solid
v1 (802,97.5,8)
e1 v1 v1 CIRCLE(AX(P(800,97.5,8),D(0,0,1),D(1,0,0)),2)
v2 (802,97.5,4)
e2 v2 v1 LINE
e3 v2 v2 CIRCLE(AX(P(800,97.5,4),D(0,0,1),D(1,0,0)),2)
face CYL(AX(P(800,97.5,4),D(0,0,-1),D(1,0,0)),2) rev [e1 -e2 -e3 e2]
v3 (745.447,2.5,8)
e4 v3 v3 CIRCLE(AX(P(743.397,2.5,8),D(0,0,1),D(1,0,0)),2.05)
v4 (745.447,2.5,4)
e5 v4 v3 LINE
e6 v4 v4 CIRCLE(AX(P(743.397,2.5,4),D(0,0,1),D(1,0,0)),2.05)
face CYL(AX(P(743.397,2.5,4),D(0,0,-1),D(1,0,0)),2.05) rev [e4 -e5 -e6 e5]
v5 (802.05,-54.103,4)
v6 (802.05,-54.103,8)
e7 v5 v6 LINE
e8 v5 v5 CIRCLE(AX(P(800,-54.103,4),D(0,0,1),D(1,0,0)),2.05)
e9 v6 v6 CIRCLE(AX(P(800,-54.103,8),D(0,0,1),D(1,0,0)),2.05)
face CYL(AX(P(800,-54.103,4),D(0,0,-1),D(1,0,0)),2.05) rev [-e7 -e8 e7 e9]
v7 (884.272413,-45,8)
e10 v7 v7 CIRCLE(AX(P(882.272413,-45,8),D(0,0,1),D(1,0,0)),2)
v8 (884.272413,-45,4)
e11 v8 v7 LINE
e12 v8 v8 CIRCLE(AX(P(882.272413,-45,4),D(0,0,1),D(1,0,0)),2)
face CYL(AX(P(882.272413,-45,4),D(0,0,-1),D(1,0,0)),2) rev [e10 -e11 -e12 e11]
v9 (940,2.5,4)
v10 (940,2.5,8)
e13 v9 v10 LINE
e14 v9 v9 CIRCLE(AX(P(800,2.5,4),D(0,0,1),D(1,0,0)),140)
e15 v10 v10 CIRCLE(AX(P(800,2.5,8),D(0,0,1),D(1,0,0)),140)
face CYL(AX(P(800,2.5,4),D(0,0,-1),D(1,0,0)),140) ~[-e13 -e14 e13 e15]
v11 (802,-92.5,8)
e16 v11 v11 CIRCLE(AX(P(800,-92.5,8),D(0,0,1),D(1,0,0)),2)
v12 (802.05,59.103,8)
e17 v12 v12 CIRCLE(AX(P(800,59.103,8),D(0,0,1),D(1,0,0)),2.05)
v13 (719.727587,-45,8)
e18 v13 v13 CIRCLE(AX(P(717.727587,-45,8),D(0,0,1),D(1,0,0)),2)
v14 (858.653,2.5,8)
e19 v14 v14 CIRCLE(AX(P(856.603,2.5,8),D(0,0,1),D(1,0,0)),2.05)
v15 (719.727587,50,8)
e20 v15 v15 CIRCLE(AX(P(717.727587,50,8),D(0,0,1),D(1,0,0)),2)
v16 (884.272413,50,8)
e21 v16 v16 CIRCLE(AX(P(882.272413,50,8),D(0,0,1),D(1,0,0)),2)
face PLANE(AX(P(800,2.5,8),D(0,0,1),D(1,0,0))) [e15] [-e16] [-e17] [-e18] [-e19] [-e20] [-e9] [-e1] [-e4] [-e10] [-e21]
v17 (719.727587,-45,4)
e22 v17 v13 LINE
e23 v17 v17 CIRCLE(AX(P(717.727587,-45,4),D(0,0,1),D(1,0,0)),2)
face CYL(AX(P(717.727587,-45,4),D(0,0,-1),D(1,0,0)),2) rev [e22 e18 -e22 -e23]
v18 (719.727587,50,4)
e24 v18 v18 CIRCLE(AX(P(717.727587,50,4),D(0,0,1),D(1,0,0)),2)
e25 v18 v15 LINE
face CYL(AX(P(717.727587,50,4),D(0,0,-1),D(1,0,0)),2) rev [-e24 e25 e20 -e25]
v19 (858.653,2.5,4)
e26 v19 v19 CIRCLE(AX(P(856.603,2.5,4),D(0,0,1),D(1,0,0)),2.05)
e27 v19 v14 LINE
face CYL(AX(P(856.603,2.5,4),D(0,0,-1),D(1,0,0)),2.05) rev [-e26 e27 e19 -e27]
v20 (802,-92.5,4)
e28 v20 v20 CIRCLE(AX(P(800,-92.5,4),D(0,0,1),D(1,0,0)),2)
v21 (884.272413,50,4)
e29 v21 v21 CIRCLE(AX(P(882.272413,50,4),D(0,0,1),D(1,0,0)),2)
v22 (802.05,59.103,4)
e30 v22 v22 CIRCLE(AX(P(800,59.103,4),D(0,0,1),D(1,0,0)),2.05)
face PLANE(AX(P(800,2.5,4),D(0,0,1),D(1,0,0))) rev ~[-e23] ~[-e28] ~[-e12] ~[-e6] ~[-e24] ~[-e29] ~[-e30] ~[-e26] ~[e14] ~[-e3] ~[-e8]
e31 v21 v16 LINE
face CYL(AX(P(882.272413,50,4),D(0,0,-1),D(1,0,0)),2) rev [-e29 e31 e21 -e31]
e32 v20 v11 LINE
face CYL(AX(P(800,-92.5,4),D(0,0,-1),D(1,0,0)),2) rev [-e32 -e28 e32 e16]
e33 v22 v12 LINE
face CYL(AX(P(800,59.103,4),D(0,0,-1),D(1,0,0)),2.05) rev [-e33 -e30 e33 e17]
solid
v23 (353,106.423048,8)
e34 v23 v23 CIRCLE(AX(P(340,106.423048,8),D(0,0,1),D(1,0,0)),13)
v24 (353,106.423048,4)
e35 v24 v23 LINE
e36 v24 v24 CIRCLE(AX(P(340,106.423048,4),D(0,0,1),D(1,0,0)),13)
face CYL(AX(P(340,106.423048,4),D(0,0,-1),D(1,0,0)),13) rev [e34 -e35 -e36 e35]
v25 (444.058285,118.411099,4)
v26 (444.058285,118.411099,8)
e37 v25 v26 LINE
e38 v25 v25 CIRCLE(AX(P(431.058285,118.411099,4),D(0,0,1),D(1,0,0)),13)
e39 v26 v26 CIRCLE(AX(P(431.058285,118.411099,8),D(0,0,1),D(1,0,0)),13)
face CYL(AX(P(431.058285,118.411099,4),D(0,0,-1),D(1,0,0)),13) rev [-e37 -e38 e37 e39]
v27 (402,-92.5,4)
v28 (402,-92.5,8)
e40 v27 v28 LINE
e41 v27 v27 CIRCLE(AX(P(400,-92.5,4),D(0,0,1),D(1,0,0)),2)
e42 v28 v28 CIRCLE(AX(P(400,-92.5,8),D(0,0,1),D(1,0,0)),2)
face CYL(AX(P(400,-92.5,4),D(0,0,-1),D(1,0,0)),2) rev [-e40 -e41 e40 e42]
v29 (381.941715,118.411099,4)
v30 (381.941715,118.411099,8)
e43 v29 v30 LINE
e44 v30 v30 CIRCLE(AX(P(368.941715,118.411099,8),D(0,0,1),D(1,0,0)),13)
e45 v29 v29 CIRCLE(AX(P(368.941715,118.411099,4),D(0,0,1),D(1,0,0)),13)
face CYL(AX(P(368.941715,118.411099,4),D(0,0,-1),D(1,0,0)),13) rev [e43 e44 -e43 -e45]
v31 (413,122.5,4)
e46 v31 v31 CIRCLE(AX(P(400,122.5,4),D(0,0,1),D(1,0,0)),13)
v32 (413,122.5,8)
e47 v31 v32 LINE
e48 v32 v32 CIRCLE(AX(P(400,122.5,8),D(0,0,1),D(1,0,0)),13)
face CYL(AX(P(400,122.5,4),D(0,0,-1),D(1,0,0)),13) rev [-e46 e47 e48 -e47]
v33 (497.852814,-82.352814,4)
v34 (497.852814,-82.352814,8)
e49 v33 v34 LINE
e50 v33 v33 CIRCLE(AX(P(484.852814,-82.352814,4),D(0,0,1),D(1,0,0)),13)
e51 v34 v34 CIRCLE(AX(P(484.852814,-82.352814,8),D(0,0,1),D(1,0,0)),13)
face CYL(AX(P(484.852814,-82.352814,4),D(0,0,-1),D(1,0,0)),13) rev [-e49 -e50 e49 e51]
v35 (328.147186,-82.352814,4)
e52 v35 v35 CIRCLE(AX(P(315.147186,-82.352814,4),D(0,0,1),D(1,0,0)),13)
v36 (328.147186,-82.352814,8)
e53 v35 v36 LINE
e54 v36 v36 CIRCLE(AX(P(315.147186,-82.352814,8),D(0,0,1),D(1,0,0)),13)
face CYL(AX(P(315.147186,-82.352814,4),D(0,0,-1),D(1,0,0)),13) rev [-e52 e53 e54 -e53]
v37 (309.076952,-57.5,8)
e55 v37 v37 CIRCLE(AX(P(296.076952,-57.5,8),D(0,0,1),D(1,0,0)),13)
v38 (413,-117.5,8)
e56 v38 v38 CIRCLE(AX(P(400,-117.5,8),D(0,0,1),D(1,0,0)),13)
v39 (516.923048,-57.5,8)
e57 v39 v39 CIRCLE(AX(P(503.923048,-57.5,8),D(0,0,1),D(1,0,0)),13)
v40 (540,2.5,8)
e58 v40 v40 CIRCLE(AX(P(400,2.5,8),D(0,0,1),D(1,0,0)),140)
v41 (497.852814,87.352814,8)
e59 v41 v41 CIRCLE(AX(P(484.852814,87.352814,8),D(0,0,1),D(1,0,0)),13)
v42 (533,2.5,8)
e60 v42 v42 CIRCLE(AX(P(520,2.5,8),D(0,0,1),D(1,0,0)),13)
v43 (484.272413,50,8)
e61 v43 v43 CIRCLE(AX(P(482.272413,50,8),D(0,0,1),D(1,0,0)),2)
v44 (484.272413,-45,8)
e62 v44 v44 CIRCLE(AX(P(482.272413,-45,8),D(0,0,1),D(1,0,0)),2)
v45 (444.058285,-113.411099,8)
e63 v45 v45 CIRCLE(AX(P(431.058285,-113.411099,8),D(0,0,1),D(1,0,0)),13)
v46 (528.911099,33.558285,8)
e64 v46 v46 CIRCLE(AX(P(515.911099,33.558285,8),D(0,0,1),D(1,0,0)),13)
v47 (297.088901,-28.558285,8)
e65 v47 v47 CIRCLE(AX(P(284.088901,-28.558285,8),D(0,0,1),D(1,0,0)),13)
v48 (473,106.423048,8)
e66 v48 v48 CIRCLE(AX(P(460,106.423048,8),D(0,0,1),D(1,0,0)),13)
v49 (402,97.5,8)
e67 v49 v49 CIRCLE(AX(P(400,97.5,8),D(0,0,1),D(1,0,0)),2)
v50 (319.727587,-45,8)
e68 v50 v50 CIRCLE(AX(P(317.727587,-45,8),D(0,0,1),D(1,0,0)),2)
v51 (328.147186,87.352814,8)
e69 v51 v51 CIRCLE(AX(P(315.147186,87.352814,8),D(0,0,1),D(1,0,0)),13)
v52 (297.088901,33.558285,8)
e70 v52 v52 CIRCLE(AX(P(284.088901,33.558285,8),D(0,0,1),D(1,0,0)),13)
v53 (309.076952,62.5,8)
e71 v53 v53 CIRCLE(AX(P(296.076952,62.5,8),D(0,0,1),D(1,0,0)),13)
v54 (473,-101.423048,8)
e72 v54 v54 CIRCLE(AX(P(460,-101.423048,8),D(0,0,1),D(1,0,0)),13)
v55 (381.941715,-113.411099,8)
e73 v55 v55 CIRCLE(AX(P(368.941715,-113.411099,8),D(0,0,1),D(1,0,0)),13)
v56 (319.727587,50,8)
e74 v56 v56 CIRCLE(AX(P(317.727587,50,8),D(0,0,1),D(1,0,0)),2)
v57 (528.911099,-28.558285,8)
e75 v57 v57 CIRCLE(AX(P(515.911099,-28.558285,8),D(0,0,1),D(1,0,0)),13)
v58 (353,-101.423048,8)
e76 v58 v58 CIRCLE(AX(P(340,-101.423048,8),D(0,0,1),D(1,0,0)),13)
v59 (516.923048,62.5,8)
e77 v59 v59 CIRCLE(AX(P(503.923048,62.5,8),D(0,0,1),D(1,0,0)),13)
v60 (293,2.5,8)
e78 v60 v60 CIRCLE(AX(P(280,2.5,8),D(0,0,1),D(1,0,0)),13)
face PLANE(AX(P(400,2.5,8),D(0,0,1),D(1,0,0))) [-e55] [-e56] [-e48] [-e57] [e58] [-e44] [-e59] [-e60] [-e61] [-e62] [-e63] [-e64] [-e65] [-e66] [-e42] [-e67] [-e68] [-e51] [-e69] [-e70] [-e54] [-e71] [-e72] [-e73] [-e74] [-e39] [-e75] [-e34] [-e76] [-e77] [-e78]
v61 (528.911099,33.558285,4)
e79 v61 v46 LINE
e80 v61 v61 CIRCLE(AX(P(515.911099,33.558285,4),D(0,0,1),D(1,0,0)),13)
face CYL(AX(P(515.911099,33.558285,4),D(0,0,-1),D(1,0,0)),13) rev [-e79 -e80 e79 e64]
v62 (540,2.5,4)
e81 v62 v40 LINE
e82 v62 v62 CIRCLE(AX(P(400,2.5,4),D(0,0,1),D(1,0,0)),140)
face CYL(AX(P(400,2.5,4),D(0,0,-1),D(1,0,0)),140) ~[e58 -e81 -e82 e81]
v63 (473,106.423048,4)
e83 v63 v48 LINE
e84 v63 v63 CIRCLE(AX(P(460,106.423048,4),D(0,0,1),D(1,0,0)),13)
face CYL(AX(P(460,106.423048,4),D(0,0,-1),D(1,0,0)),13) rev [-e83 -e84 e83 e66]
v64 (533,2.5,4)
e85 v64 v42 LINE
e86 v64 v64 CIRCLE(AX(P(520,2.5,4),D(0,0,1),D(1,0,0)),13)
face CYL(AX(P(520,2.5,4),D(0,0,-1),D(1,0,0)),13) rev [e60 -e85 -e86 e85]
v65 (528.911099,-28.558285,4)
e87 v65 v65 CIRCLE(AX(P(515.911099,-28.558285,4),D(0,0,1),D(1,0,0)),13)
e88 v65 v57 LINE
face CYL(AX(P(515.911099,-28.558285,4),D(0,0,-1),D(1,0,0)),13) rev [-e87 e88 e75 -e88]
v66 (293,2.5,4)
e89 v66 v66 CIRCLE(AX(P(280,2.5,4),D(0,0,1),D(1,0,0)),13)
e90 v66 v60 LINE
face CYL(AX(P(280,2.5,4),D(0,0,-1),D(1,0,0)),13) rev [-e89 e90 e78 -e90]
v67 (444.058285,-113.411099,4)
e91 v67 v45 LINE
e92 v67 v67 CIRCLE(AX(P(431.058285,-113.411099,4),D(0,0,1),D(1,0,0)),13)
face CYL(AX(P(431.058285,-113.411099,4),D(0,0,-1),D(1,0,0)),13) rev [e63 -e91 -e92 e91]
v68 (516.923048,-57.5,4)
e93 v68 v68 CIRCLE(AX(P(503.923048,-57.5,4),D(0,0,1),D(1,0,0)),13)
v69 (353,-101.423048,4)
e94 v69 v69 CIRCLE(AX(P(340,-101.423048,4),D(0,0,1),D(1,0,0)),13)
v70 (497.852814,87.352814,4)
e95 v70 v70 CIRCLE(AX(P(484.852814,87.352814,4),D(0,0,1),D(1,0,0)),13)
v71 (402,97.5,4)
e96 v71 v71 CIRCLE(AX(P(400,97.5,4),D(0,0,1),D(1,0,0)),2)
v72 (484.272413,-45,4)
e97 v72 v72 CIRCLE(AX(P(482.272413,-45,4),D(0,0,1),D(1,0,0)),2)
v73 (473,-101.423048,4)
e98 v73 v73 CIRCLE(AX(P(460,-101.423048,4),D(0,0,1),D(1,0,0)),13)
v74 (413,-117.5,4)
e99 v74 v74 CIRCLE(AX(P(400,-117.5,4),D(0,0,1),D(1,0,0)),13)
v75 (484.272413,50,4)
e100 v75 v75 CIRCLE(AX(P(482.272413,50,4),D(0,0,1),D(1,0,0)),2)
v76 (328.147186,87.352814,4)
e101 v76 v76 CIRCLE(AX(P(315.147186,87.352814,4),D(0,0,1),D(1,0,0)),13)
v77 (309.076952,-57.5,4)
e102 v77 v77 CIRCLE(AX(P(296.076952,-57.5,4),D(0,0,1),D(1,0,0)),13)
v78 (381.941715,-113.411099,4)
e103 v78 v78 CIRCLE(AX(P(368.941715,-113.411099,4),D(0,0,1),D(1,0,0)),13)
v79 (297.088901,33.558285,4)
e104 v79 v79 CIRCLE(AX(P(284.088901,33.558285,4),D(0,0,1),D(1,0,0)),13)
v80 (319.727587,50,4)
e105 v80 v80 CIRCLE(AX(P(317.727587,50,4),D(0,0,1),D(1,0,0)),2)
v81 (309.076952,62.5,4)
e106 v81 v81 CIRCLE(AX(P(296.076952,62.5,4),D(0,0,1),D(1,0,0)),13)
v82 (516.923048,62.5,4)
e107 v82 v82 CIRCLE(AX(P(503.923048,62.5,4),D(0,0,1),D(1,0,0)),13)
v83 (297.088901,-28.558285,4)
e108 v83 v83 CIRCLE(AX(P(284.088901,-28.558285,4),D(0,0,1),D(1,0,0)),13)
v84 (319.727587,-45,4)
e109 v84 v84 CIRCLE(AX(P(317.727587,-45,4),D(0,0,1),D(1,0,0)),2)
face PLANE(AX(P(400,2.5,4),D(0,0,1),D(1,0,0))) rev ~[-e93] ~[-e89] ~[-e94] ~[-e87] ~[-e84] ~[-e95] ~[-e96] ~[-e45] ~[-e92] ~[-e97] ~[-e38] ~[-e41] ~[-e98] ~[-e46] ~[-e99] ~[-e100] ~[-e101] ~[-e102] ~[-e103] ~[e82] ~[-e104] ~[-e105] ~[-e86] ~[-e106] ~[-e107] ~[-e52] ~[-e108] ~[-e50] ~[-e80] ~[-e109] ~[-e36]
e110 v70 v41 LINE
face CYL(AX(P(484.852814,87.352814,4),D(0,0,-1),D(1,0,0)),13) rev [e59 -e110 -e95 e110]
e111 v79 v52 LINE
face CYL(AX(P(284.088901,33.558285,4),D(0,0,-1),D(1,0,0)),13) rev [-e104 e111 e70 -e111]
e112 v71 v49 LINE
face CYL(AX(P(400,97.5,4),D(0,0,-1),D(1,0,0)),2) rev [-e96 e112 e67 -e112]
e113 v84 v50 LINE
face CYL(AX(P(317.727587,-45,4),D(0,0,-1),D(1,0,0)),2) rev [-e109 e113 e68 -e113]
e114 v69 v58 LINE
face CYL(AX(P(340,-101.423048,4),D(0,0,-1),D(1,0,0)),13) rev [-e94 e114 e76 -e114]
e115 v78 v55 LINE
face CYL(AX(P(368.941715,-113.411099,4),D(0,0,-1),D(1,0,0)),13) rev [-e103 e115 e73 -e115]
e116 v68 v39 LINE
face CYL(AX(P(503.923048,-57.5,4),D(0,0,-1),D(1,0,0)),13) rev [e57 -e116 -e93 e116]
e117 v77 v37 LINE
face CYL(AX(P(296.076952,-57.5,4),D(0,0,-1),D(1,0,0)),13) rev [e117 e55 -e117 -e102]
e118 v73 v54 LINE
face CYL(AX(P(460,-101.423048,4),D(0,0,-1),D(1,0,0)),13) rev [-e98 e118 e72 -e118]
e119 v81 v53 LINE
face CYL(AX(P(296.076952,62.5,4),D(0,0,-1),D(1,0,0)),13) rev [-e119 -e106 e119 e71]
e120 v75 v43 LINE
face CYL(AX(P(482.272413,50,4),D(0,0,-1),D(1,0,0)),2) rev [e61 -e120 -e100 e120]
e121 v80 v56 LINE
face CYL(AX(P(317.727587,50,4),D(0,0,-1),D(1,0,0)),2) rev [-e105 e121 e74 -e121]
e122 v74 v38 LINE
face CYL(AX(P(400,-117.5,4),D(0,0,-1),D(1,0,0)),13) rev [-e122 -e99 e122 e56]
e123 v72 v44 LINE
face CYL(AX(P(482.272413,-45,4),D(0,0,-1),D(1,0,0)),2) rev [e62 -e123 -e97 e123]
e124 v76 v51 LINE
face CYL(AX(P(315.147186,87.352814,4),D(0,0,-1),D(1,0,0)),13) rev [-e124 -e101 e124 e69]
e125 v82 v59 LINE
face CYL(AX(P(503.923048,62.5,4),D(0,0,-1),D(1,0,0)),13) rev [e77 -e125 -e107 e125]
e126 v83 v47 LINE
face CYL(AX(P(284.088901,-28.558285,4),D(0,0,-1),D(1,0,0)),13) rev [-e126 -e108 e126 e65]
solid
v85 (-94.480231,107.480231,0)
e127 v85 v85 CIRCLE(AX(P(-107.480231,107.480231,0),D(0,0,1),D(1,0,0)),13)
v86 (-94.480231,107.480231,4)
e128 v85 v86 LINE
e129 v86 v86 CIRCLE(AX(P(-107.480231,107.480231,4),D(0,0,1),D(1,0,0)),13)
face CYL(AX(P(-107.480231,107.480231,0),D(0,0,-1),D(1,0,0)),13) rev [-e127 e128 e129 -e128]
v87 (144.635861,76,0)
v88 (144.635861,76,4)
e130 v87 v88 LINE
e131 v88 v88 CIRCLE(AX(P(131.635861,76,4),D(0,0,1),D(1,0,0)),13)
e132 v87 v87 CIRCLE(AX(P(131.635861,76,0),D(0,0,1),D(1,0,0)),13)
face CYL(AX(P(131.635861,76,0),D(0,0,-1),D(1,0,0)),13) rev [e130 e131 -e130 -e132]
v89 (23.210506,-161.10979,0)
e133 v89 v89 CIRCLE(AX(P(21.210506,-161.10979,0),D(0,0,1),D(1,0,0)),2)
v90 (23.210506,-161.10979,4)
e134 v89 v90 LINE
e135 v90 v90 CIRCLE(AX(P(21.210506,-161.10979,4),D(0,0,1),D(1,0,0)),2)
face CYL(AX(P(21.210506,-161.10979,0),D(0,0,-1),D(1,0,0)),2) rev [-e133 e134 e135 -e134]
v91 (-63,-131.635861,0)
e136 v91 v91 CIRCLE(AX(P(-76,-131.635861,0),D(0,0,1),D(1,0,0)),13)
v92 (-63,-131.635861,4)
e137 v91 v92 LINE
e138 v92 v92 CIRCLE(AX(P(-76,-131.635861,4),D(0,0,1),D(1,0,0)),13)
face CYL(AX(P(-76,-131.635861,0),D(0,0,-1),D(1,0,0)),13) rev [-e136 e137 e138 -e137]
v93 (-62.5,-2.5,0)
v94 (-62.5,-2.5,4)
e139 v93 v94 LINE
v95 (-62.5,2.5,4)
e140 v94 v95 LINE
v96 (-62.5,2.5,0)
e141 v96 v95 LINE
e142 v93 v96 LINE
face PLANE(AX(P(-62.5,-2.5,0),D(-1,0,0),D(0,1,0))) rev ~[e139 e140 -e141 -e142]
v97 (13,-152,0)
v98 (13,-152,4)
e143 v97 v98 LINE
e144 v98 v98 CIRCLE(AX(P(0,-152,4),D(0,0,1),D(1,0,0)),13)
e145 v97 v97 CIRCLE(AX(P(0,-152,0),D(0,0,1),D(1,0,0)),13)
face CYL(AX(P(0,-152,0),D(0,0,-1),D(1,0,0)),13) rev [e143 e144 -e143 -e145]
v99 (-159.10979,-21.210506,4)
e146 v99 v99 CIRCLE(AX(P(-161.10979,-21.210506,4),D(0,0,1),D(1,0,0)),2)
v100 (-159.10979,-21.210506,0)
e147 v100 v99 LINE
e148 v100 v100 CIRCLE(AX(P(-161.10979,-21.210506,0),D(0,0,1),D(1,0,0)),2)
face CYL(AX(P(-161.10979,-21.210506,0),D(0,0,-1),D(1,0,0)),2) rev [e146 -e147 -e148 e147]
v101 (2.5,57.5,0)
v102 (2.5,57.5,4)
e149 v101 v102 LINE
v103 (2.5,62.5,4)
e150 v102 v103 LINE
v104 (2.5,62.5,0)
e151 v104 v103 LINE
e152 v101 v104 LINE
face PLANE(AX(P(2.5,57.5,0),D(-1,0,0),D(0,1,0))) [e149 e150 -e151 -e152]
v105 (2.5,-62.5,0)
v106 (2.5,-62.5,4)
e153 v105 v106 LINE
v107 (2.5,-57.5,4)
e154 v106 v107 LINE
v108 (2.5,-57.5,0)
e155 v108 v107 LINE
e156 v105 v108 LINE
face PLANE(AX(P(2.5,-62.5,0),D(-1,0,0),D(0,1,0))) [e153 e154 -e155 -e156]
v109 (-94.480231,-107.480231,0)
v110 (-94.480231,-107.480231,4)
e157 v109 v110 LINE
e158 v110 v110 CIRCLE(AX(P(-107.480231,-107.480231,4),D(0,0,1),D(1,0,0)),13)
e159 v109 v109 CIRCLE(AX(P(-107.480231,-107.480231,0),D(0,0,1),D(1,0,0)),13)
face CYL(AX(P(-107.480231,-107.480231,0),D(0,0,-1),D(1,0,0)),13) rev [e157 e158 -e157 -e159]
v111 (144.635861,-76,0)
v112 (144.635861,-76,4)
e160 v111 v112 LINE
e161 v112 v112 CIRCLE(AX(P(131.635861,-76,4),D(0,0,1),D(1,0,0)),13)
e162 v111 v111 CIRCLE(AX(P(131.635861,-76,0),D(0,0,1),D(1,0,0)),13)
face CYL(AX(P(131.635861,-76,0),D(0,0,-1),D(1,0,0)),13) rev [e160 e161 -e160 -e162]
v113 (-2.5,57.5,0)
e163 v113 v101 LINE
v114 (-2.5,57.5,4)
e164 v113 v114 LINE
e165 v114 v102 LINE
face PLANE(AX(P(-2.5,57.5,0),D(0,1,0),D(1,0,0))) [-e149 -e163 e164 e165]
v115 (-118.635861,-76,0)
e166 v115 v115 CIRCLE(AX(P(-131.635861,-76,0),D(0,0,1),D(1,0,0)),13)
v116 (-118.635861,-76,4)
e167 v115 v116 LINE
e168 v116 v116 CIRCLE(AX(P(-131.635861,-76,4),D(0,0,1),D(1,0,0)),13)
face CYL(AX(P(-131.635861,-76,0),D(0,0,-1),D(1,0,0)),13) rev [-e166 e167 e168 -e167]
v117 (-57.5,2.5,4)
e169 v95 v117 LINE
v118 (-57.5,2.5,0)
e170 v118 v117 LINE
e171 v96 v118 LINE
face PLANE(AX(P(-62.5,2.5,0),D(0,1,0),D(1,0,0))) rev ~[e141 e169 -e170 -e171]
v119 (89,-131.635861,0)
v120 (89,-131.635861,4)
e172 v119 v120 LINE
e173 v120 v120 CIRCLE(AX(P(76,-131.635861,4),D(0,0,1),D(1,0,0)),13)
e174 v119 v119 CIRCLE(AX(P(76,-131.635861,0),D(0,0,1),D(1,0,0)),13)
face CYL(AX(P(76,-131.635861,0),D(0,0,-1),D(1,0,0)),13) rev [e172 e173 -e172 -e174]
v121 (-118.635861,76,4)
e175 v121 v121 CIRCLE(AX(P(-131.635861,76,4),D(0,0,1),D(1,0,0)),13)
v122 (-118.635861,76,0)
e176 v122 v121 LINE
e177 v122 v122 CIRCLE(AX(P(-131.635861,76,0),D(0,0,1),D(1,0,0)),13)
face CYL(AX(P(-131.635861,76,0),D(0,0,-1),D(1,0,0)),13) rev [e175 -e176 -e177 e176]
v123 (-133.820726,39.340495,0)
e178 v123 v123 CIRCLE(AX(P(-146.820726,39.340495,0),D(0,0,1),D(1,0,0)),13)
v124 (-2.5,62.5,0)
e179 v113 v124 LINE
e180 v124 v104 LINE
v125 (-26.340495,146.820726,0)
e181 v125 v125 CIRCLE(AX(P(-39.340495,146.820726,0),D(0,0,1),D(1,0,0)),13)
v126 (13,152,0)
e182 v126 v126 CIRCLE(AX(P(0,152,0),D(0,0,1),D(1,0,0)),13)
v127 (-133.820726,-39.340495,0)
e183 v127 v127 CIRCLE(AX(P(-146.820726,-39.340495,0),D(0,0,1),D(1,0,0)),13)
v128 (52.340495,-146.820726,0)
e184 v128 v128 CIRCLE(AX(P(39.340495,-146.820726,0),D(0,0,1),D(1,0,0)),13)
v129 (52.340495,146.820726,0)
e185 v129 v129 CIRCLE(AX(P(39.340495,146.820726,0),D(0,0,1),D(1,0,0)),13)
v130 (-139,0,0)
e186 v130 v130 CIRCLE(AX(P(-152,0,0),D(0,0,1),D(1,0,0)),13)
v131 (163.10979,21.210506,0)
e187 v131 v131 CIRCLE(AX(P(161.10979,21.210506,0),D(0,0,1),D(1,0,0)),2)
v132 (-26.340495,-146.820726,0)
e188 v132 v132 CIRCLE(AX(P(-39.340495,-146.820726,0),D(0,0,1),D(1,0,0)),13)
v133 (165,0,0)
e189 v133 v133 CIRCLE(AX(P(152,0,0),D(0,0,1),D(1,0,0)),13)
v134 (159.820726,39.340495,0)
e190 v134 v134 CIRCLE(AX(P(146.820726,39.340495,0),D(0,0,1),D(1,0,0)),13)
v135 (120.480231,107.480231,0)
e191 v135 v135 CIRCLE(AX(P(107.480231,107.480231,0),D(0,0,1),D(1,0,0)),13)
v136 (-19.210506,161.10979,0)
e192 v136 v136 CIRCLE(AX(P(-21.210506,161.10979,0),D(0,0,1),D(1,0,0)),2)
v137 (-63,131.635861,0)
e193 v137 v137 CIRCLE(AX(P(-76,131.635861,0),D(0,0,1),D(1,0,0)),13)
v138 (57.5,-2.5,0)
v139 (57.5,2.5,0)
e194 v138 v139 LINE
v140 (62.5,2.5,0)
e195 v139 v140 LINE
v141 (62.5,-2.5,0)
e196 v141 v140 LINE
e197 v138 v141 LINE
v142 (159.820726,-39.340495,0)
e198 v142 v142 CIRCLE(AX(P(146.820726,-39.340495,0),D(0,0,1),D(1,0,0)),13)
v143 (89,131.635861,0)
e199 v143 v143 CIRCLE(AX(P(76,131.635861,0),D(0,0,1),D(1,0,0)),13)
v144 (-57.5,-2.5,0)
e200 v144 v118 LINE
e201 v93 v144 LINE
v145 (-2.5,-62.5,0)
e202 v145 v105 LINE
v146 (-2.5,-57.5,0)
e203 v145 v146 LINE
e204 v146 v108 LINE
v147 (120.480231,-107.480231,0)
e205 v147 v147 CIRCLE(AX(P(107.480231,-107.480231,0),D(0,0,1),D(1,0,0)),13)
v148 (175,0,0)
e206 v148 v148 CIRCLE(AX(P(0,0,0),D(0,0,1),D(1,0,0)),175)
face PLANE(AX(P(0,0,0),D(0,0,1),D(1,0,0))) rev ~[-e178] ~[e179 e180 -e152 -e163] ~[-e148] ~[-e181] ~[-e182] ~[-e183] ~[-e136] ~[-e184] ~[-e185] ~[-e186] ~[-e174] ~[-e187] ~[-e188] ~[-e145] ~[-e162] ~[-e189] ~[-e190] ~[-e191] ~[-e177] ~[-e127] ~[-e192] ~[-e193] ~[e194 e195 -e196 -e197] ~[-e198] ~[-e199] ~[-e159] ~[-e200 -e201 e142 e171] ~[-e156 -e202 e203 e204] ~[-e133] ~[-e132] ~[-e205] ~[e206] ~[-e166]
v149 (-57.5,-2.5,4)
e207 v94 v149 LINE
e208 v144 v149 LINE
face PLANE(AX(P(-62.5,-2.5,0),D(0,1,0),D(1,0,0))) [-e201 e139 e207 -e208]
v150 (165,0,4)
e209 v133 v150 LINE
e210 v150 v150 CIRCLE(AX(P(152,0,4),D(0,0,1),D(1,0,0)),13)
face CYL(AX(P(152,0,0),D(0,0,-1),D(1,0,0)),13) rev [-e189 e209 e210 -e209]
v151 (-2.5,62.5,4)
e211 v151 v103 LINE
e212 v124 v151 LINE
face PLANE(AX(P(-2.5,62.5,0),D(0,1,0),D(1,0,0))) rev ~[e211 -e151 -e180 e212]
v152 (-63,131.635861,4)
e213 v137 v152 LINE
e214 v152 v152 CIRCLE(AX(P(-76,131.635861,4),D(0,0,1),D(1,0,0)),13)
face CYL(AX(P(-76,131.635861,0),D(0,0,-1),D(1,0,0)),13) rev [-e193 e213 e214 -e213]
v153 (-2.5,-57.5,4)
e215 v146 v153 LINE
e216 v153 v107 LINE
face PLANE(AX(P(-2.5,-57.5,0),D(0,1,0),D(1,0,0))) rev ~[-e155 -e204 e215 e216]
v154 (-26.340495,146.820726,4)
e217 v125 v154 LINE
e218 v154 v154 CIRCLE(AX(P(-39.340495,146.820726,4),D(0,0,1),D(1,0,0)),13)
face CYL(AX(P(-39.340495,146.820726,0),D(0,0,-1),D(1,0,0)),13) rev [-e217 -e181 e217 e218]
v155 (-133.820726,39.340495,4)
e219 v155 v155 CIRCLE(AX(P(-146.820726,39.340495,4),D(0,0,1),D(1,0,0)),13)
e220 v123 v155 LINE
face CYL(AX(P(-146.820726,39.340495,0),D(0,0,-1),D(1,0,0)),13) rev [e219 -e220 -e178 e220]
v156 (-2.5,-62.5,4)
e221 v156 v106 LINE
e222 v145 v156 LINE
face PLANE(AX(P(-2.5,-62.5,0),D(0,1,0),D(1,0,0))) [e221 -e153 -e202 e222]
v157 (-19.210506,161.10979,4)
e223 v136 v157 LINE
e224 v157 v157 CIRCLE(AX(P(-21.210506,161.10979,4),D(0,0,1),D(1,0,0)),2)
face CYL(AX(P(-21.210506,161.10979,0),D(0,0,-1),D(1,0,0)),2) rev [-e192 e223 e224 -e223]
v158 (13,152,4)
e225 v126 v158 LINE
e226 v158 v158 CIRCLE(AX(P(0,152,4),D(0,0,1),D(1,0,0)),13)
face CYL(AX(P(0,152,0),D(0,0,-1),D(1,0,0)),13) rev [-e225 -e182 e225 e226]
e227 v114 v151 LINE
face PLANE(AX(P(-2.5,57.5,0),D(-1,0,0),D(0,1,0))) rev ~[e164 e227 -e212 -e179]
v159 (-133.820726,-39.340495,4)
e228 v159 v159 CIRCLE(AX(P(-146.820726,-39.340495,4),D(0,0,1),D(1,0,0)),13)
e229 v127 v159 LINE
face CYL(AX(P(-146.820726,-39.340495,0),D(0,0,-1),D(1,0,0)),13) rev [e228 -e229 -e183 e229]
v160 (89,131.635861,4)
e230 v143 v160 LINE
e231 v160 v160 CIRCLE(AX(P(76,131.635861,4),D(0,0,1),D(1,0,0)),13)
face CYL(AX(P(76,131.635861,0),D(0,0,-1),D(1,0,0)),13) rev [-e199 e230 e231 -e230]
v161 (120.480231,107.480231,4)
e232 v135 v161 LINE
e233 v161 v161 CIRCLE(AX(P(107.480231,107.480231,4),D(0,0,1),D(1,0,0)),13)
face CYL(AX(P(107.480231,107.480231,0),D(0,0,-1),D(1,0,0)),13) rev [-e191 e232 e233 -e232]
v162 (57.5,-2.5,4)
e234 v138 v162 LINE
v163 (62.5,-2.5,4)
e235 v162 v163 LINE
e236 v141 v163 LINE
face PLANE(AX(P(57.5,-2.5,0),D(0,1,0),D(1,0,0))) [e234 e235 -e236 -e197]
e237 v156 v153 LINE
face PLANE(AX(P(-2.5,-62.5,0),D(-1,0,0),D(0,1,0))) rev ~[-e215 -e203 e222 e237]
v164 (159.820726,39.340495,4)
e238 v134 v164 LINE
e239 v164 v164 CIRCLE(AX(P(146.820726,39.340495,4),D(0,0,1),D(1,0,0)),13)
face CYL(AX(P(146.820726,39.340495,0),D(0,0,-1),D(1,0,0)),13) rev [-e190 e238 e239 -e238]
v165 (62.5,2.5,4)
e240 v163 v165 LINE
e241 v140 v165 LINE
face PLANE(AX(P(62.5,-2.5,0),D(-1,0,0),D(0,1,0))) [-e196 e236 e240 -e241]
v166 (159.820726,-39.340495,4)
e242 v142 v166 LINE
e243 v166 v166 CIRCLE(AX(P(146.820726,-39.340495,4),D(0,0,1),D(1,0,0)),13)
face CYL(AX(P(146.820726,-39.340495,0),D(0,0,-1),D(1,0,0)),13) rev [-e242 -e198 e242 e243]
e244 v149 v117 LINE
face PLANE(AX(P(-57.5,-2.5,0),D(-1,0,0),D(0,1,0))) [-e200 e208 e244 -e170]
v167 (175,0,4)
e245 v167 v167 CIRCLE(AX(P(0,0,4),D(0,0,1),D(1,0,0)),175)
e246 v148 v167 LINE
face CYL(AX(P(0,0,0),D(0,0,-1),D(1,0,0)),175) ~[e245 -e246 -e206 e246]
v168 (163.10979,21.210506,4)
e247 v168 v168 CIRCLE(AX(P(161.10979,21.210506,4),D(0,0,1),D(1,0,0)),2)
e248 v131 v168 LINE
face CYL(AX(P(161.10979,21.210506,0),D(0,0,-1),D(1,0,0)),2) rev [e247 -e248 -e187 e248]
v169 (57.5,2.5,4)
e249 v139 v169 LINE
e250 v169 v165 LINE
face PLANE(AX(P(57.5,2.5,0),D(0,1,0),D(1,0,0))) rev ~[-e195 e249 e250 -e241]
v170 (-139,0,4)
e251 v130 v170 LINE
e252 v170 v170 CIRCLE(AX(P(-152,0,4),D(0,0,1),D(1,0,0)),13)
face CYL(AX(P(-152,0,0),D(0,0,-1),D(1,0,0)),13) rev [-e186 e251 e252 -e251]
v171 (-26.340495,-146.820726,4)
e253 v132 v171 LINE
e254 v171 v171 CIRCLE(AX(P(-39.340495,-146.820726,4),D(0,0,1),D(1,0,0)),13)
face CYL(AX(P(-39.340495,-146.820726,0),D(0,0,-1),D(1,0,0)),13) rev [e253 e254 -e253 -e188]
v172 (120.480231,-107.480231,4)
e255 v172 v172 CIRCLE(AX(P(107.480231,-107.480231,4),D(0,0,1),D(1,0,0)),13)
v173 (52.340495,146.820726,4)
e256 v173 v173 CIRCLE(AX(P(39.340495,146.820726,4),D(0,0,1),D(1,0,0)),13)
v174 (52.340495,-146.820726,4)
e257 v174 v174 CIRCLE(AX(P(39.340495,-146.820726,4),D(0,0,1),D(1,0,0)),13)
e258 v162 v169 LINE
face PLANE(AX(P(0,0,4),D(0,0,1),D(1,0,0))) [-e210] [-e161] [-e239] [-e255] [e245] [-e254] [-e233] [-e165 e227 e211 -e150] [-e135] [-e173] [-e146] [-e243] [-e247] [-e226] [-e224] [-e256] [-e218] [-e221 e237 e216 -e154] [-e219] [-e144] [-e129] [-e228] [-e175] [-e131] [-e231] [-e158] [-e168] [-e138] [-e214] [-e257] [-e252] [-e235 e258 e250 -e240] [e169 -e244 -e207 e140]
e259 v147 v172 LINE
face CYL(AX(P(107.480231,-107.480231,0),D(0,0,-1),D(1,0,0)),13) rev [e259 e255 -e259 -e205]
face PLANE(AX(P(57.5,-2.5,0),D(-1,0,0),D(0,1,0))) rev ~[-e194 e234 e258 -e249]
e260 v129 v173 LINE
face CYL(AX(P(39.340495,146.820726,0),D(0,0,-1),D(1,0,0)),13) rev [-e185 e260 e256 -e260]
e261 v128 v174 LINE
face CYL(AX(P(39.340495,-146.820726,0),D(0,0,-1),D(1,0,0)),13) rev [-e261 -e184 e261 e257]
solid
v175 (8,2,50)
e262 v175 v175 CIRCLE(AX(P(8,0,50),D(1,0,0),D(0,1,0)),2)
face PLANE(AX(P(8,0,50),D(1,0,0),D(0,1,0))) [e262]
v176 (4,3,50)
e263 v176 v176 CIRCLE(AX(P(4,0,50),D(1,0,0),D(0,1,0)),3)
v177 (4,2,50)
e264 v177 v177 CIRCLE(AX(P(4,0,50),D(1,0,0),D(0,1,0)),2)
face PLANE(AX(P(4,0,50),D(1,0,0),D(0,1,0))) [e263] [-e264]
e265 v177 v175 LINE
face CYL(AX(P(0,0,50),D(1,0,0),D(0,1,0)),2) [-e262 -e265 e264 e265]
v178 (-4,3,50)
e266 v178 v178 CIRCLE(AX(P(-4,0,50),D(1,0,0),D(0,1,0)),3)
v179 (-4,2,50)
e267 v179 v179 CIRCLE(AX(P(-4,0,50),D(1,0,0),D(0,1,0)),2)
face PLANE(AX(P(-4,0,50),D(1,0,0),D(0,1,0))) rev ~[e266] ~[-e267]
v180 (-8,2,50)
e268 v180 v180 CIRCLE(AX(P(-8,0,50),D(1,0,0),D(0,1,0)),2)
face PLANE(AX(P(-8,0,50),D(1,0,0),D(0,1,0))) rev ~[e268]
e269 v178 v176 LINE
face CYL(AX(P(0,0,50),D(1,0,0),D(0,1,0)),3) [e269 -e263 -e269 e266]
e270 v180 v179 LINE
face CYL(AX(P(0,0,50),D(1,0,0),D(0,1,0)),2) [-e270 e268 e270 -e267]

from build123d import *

# Parameters (mm, degrees)
F0_R     = 175
F0_R_2   = 13
F0_R_3   = 2
F0_W     = 5
F0_H     = 5
F1_DEPTH = 4
F2_R     = 3
F2_R_2   = 2
F3_DEPTH = 4
F4_DEPTH = 8
F5_R     = 140
F5_R_2   = 13
F5_R_3   = 2
F6_DEPTH = 4
F5_R_4   = 2.05


with BuildPart() as f1:
    # F0 (on Top) → F1 (new body)
    with BuildSketch(Plane.XY):
        Circle(F0_R)
        with Locations((-107.4802307404, -107.4802307404)):
            Circle(F0_R_2, mode=Mode.SUBTRACT)
        with Locations((-76, -131.6358613752)):
            Circle(F0_R_2, mode=Mode.SUBTRACT)
        with Locations((-39.3404948556, -146.8207255959)):
            Circle(F0_R_2, mode=Mode.SUBTRACT)
        with Locations((-131.6358613752, -76)):
            Circle(F0_R_2, mode=Mode.SUBTRACT)
        with Locations((-146.8207255959, -39.3404948556)):
            Circle(F0_R_2, mode=Mode.SUBTRACT)
        with Locations((-161.1097899732, -21.2105062358)):
            Circle(F0_R_3, mode=Mode.SUBTRACT)
        with Locations((21.2105062358, -161.1097899732)):
            Circle(F0_R_3, mode=Mode.SUBTRACT)
        with Locations((0, -152)):
            Circle(F0_R_2, mode=Mode.SUBTRACT)
        with Locations((39.3404948556, -146.8207255959)):
            Circle(F0_R_2, mode=Mode.SUBTRACT)
        with Locations((76, -131.6358613752)):
            Circle(F0_R_2, mode=Mode.SUBTRACT)
        with Locations((107.4802307404, -107.4802307404)):
            Circle(F0_R_2, mode=Mode.SUBTRACT)
        with Locations((0, -60)):
            Rectangle(F0_W, F0_H, mode=Mode.SUBTRACT)
        with Locations((131.6358613752, -76)):
            Circle(F0_R_2, mode=Mode.SUBTRACT)
        with Locations((146.8207255959, -39.3404948556)):
            Circle(F0_R_2, mode=Mode.SUBTRACT)
        with Locations((-152, 0)):
            Circle(F0_R_2, mode=Mode.SUBTRACT)
        with Locations((-146.8207255959, 39.3404948556)):
            Circle(F0_R_2, mode=Mode.SUBTRACT)
        with Locations((-131.6358613752, 76)):
            Circle(F0_R_2, mode=Mode.SUBTRACT)
        with Locations((-60, 0)):
            Rectangle(F0_W, F0_H, mode=Mode.SUBTRACT)
        with Locations((-107.4802307404, 107.4802307404)):
            Circle(F0_R_2, mode=Mode.SUBTRACT)
        with Locations((-76, 131.6358613752)):
            Circle(F0_R_2, mode=Mode.SUBTRACT)
        with Locations((-39.3404948556, 146.8207255959)):
            Circle(F0_R_2, mode=Mode.SUBTRACT)
        with Locations((-21.2105062358, 161.1097899732)):
            Circle(F0_R_3, mode=Mode.SUBTRACT)
        with Locations((60, 0)):
            Rectangle(F0_W, F0_H, mode=Mode.SUBTRACT)
        with Locations((0, 60)):
            Rectangle(F0_W, F0_H, mode=Mode.SUBTRACT)
        with Locations((152, 0)):
            Circle(F0_R_2, mode=Mode.SUBTRACT)
        with Locations((161.1097899732, 21.2105062358)):
            Circle(F0_R_3, mode=Mode.SUBTRACT)
        with Locations((146.8207255959, 39.3404948556)):
            Circle(F0_R_2, mode=Mode.SUBTRACT)
        with Locations((131.6358613752, 76)):
            Circle(F0_R_2, mode=Mode.SUBTRACT)
        with Locations((0, 152)):
            Circle(F0_R_2, mode=Mode.SUBTRACT)
        with Locations((39.3404948556, 146.8207255959)):
            Circle(F0_R_2, mode=Mode.SUBTRACT)
        with Locations((76, 131.6358613752)):
            Circle(F0_R_2, mode=Mode.SUBTRACT)
        with Locations((107.4802307404, 107.4802307404)):
            Circle(F0_R_2, mode=Mode.SUBTRACT)
    extrude(amount=F1_DEPTH)


with BuildPart() as f3:
    # F2 (on Right) → F3 (new body, symmetric)
    with BuildSketch(Plane.YZ):
        with Locations((0, 50)):
            Circle(F2_R)
        with Locations((0, 50)):
            Circle(F2_R_2, mode=Mode.SUBTRACT)
    extrude(amount=F3_DEPTH, both=True)

    # F2 (on Right) → F4 (join, symmetric)
    with BuildSketch(Plane.YZ):
        with Locations((0, 50)):
            Circle(F2_R_2)
    extrude(amount=F4_DEPTH, both=True)


with BuildPart() as f6:
    # F5 (on face) → F6 (new body)
    with BuildSketch(Plane.XY.offset(4)):
        with Locations((400, 2.5)):
            Circle(F5_R)
        with Locations((368.9417145877, -113.4110991547)):
            Circle(F5_R_2, mode=Mode.SUBTRACT)
        with Locations((340, -101.4230484541)):
            Circle(F5_R_2, mode=Mode.SUBTRACT)
        with Locations((315.1471862576, -82.3528137424)):
            Circle(F5_R_2, mode=Mode.SUBTRACT)
        with Locations((296.0769515459, -57.5)):
            Circle(F5_R_2, mode=Mode.SUBTRACT)
        with Locations((317.7275866405, -45)):
            Circle(F5_R_3, mode=Mode.SUBTRACT)
        with Locations((284.0889008453, -28.5582854123)):
            Circle(F5_R_2, mode=Mode.SUBTRACT)
        with Locations((400, -117.5)):
            Circle(F5_R_2, mode=Mode.SUBTRACT)
        with Locations((431.0582854123, -113.4110991547)):
            Circle(F5_R_2, mode=Mode.SUBTRACT)
        with Locations((400, -92.5)):
            Circle(F5_R_3, mode=Mode.SUBTRACT)
        with Locations((460, -101.4230484541)):
            Circle(F5_R_2, mode=Mode.SUBTRACT)
        with Locations((484.8528137424, -82.3528137424)):
            Circle(F5_R_2, mode=Mode.SUBTRACT)
        with Locations((503.9230484541, -57.5)):
            Circle(F5_R_2, mode=Mode.SUBTRACT)
        with Locations((482.2724133595, -45)):
            Circle(F5_R_3, mode=Mode.SUBTRACT)
        with Locations((515.9110991547, -28.5582854123)):
            Circle(F5_R_2, mode=Mode.SUBTRACT)
        with Locations((280, 2.5)):
            Circle(F5_R_2, mode=Mode.SUBTRACT)
        with Locations((284.0889008453, 33.5582854123)):
            Circle(F5_R_2, mode=Mode.SUBTRACT)
        with Locations((296.0769515459, 62.5)):
            Circle(F5_R_2, mode=Mode.SUBTRACT)
        with Locations((317.7275866405, 50)):
            Circle(F5_R_3, mode=Mode.SUBTRACT)
        with Locations((315.1471862576, 87.3528137424)):
            Circle(F5_R_2, mode=Mode.SUBTRACT)
        with Locations((340, 106.4230484541)):
            Circle(F5_R_2, mode=Mode.SUBTRACT)
        with Locations((368.9417145877, 118.4110991547)):
            Circle(F5_R_2, mode=Mode.SUBTRACT)
        with Locations((520, 2.5)):
            Circle(F5_R_2, mode=Mode.SUBTRACT)
        with Locations((515.9110991547, 33.5582854123)):
            Circle(F5_R_2, mode=Mode.SUBTRACT)
        with Locations((482.2724133595, 50)):
            Circle(F5_R_3, mode=Mode.SUBTRACT)
        with Locations((503.9230484541, 62.5)):
            Circle(F5_R_2, mode=Mode.SUBTRACT)
        with Locations((484.8528137424, 87.3528137424)):
            Circle(F5_R_2, mode=Mode.SUBTRACT)
        with Locations((400, 97.5)):
            Circle(F5_R_3, mode=Mode.SUBTRACT)
        with Locations((460, 106.4230484541)):
            Circle(F5_R_2, mode=Mode.SUBTRACT)
        with Locations((431.0582854123, 118.4110991547)):
            Circle(F5_R_2, mode=Mode.SUBTRACT)
        with Locations((400, 122.5)):
            Circle(F5_R_2, mode=Mode.SUBTRACT)
    extrude(amount=F6_DEPTH)


with BuildPart() as f6b:
    # F5 (on face) → F6, piece 2 (new body)
    with BuildSketch(Plane.XY.offset(4)):
        with Locations((800, 2.5)):
            Circle(F5_R)
        with Locations((800, -92.5)):
            Circle(F5_R_3, mode=Mode.SUBTRACT)
        with Locations((717.7275866405, -45)):
            Circle(F5_R_3, mode=Mode.SUBTRACT)
        with Locations((800, -54.103)):
            Circle(F5_R_4, mode=Mode.SUBTRACT)
        with Locations((882.2724133595, -45)):
            Circle(F5_R_3, mode=Mode.SUBTRACT)
        with Locations((743.397, 2.5)):
            Circle(F5_R_4, mode=Mode.SUBTRACT)
        with Locations((856.603, 2.5)):
            Circle(F5_R_4, mode=Mode.SUBTRACT)
        with Locations((717.7275866405, 50)):
            Circle(F5_R_3, mode=Mode.SUBTRACT)
        with Locations((800, 59.103)):
            Circle(F5_R_4, mode=Mode.SUBTRACT)
        with Locations((882.2724133595, 50)):
            Circle(F5_R_3, mode=Mode.SUBTRACT)
        with Locations((800, 97.5)):
            Circle(F5_R_3, mode=Mode.SUBTRACT)
    extrude(amount=F6_DEPTH)


solid = Compound([f1.part, f3.part, f6.part, f6b.part])
